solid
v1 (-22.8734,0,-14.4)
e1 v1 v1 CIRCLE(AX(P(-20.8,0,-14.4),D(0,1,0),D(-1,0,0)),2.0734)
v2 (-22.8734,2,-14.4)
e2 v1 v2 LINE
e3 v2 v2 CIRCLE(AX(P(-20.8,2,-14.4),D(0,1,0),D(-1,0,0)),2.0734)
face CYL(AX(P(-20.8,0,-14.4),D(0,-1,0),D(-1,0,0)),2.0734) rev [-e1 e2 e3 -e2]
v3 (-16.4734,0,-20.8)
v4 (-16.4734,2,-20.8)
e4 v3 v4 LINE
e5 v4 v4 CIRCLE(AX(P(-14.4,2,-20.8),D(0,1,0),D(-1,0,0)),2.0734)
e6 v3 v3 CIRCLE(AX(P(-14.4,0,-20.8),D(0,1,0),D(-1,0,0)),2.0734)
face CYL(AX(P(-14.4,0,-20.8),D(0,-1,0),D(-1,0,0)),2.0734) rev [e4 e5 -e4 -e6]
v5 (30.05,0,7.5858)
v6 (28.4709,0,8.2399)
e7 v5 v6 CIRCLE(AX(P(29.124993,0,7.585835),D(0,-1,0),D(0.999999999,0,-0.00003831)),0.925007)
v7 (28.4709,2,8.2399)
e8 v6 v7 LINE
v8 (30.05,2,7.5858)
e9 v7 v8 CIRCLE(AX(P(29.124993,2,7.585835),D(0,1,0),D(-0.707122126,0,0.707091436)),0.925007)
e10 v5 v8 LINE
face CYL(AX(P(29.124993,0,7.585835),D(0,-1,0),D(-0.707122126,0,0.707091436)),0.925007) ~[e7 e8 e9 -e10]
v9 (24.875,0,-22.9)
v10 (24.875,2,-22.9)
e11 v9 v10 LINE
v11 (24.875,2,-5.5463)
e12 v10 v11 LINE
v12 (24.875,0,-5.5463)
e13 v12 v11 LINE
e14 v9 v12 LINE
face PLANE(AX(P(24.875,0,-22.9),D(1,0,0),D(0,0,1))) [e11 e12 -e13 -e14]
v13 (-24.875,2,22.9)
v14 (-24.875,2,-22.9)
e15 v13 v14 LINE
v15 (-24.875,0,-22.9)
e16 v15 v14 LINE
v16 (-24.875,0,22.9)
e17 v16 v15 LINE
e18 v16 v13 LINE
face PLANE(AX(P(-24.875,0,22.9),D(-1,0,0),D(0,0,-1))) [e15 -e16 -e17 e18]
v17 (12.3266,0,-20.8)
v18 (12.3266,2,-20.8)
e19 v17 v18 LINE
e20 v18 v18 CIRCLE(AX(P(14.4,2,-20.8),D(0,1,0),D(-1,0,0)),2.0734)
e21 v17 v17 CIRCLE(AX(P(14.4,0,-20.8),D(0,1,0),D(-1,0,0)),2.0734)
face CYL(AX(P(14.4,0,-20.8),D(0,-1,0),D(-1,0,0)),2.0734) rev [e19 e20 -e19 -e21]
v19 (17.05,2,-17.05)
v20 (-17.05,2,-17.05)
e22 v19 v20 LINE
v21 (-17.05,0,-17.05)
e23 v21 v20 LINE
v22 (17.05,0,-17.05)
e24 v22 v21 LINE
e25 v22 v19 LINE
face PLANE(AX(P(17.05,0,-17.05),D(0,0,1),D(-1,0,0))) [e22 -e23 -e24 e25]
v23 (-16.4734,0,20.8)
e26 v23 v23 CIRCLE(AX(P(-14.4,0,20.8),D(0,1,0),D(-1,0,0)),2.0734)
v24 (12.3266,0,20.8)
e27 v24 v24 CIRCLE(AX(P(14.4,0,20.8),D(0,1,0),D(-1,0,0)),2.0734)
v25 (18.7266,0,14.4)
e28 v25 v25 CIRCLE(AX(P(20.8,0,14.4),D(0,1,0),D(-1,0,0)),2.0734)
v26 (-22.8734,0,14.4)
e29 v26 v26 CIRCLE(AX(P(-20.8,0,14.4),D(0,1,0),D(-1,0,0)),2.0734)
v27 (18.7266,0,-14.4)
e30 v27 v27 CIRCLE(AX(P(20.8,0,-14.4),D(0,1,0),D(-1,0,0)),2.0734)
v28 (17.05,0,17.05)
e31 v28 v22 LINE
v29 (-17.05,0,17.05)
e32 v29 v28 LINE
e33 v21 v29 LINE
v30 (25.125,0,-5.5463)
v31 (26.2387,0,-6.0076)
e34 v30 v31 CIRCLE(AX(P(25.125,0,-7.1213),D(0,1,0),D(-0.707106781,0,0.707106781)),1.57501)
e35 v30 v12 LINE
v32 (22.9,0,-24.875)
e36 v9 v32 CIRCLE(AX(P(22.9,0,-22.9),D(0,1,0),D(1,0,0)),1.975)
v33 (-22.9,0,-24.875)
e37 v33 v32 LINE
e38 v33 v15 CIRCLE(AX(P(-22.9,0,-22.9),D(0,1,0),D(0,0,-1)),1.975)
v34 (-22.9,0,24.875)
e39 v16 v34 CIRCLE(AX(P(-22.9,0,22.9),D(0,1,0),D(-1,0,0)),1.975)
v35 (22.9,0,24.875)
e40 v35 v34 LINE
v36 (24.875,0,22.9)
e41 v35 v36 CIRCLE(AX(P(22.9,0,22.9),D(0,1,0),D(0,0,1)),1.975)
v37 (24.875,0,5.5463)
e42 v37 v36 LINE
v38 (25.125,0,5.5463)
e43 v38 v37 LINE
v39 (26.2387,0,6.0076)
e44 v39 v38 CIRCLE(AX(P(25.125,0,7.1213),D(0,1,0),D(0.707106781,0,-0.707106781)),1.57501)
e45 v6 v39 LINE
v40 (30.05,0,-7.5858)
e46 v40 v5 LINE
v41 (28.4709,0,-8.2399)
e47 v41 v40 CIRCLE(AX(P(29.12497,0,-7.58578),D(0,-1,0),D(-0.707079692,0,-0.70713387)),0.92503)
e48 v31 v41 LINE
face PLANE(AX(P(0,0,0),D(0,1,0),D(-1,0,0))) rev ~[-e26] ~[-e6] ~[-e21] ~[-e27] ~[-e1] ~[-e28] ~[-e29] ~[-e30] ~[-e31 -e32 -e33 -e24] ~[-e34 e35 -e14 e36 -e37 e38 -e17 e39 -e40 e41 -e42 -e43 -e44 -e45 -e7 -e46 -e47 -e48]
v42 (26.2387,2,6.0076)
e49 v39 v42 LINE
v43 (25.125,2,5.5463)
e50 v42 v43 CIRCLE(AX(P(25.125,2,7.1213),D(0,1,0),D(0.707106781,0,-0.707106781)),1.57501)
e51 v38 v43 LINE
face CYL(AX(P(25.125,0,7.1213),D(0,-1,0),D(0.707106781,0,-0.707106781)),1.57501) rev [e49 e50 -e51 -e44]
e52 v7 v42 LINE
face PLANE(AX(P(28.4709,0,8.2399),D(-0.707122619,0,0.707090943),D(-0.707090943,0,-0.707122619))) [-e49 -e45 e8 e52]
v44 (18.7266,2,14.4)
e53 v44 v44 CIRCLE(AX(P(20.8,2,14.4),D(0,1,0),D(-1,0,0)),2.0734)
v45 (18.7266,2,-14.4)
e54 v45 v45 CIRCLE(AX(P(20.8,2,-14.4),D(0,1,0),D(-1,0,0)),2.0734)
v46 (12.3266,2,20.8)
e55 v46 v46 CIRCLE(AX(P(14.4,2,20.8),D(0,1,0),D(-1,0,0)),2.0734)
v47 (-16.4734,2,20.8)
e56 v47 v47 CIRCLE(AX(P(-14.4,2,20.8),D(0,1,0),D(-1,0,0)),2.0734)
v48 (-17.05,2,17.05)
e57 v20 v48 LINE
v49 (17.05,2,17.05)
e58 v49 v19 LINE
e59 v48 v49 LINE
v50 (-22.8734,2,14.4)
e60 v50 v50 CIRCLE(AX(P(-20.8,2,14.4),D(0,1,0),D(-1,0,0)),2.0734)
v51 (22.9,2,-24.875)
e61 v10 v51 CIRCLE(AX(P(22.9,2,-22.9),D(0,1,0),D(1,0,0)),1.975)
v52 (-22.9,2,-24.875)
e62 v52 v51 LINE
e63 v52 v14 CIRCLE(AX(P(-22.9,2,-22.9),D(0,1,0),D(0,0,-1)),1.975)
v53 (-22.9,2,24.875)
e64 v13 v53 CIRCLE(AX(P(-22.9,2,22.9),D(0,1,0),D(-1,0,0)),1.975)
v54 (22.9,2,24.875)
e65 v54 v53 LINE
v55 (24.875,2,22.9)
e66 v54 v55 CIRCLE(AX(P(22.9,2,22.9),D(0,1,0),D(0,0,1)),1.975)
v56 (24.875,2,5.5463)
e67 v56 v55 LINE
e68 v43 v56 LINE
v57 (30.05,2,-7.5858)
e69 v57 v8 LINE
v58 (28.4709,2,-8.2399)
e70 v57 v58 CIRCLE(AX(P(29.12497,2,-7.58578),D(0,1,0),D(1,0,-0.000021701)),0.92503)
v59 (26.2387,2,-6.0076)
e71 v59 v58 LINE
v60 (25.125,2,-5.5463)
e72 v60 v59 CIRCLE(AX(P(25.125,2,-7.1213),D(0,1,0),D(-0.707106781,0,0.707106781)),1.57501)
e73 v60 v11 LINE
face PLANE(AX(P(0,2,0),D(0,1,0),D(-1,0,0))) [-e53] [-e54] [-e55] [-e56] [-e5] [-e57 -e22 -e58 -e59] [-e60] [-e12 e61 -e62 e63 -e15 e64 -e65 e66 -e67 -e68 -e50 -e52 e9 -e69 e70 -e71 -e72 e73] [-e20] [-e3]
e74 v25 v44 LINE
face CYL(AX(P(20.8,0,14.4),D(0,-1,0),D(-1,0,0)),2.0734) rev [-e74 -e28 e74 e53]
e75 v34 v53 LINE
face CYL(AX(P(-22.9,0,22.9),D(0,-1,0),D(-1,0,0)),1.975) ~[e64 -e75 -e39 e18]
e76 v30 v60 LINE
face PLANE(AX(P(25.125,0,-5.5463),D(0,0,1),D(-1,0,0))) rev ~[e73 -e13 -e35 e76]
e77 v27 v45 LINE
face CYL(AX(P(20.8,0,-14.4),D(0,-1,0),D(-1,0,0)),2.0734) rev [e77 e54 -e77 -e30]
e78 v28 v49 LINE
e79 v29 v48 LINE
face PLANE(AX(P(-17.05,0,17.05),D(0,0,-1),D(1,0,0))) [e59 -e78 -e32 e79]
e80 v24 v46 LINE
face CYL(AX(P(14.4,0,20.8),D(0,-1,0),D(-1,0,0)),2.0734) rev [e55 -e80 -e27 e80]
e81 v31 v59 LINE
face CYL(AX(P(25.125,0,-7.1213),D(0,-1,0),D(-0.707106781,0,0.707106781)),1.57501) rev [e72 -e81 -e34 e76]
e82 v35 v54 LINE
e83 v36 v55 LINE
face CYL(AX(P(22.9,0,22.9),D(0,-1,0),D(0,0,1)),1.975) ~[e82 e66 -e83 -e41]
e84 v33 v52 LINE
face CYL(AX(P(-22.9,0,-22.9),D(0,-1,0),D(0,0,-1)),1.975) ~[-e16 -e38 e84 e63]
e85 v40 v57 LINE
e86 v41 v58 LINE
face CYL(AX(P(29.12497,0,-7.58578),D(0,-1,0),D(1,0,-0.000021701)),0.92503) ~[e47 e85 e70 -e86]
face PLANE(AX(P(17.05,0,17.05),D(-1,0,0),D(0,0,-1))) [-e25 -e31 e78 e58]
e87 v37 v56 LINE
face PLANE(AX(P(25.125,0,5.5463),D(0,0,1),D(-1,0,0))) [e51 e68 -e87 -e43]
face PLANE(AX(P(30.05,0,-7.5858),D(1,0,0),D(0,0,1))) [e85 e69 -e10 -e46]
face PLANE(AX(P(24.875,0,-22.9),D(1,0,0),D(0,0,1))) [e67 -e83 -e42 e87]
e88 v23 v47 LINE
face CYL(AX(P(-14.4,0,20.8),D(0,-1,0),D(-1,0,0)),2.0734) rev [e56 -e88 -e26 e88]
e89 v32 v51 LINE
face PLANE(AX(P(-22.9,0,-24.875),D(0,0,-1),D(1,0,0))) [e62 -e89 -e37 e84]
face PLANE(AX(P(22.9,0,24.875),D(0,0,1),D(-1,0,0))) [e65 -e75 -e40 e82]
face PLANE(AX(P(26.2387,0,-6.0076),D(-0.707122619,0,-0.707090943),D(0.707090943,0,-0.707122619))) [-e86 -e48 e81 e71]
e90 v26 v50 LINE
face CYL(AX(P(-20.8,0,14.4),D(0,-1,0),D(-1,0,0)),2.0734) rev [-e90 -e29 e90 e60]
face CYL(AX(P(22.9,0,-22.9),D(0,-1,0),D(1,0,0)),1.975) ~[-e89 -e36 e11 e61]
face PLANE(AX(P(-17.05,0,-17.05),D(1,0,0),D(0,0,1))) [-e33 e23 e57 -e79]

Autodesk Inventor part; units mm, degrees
ref_plane "YZ Plane" through (0, 0, 0) normal (1, 0, 0) x (0, 1, 0)
ref_plane "XZ Plane" through (0, 0, 0) normal (0, 1, 0) x (-1, 0, 0)
ref_plane "XY Plane" through (0, 0, 0) normal (0, 0, 1) x (1, 0, 0)
sketch "Sketch1" plane through (0, 0, 0) normal (0, 1, 0) x (-1, 0, 0)
  circle A0 centre (-21.9, -21.9) radius 1.875 projected
  circle A1 centre (21.9, 21.9) radius 1.875 projected
  circle A2 centre (21.9, -21.9) radius 1.875 projected
  circle A3 centre (-21.9, 21.9) radius 1.875 projected
  circle A4 centre (14.4, 20.8) radius 2.0734 projected
  circle A5 centre (-14.4, -20.8) radius 2.0734 projected
  circle A6 centre (14.4, -20.8) radius 2.0734 projected
  circle A7 centre (20.8, -14.4) radius 2.0734 projected
  line L0 (-17.05, 17.05) -> (-17.05, -17.05) projected
  line L1 (17.05, 17.05) -> (-17.05, 17.05) projected
  line L2 (17.05, -17.05) -> (17.05, 17.05) projected
  line L3 (-17.05, -17.05) -> (17.05, -17.05) projected
  circle A8 centre (20.8, 14.4) radius 2.0734 projected
  circle A9 centre (-14.4, 20.8) radius 2.0734 projected
  circle A10 centre (-20.8, -14.4) radius 2.0734 projected
  circle A11 centre (-20.8, 14.4) radius 2.0734 projected
  line L4 (-22.9, 24.875) -> (22.9, 24.875) projected
  arc A12 (-22.9, 24.875) -> (-24.875, 22.9) centre (-22.9, 22.9) ccw projected
  line L5 (-24.875, -22.9) -> (-24.875, 22.9) projected
  arc A13 (-24.875, -22.9) -> (-22.9, -24.875) centre (-22.9, -22.9) ccw projected
  line L6 (22.9, -24.875) -> (-22.9, -24.875) projected
  arc A14 (22.9, -24.875) -> (24.875, -22.9) centre (22.9, -22.9) ccw projected
  line L7 (24.875, 22.9) -> (24.875, -22.9) projected
  arc A15 (24.875, 22.9) -> (22.9, 24.875) centre (22.9, 22.9) ccw projected
  arc A16 (24.9, 22.9) -> (22.9, 24.9) centre (22.9, 22.9) ccw projected
  line L8 (22.9, 24.9) -> (-22.9, 24.9) projected
  arc A17 (-22.9, 24.9) -> (-24.9, 22.9) centre (-22.9, 22.9) ccw projected
  line L9 (-24.9, 22.9) -> (-24.9, -22.9) projected
  arc A18 (-24.9, -22.9) -> (-22.9, -24.9) centre (-22.9, -22.9) ccw projected
  line L10 (-22.9, -24.9) -> (22.9, -24.9) projected
  arc A19 (22.9, -24.9) -> (24.9, -22.9) centre (22.9, -22.9) ccw projected
  line L11 (24.9, -22.9) -> (24.9, 22.9) projected
  point P0 (0, 0)
extrude "Extrusion1" add sketch "Sketch1" along normal blind 2 contours A0 | A1 | A2 | A3 | L4 A15 L7 A14 L6 A13 L5 A12
sketch "Sketch2" plane through (0, 0, 0) normal (0, 1, 0) x (-1, 0, 0)
  line L0 (-7.5858, -29.875) -> (7.5858, -29.875)
  line L1 (10, -29.875) -> (10, -19.875)
  line L2 (7.5858, -19.875) -> (-7.5858, -19.875)
  line L3 (-10, -19.875) -> (-10, -29.875)
  line L4 (-10, -29.875) -> (10, -19.875) construction
  line L5 (10, -29.875) -> (-10, -19.875) construction
  line L6 (-8.2929, -21.5821) -> (-6.0607, -23.8143)
  line L7 (-10, -19.875) -> (-6.8431, -19.875) construction
  line L8 (8.2929, -21.5821) -> (6.0607, -23.8143)
  line L9 (-8.2929, -28.1679) -> (-6.0607, -25.9357)
  line L10 (8.2929, -28.1679) -> (6.0607, -25.9357)
  arc A0 (-8.2929, -28.1679) -> (-7.5858, -29.875) centre (-7.5858, -28.875) ccw
  arc A1 (7.5858, -29.875) -> (8.2929, -28.1679) centre (7.5858, -28.875) ccw
  arc A2 (-6.0607, -25.9357) -> (-6.0607, -23.8143) centre (-7.1213, -24.875) ccw
  arc A3 (6.0607, -23.8143) -> (6.0607, -25.9357) centre (7.1213, -24.875) ccw
  arc A4 (-7.5858, -19.875) -> (-8.2929, -21.5821) centre (-7.5858, -20.875) ccw
  arc A5 (8.2929, -21.5821) -> (7.5858, -19.875) centre (7.5858, -20.875) ccw
  line L11 (-7.5858, -19.95) -> (7.5858, -19.95)
  arc A6 (8.2399, -21.5291) -> (7.5858, -19.95) centre (7.5858, -20.875) ccw
  line L12 (8.2399, -21.5291) -> (6.0076, -23.7613)
  arc A7 (6.0076, -23.7613) -> (6.0076, -25.9887) centre (7.1213, -24.875) ccw
  line L13 (6.0076, -25.9887) -> (8.2399, -28.2209)
  arc A8 (7.5858, -29.8) -> (8.2399, -28.2209) centre (7.5858, -28.875) ccw
  line L14 (7.5858, -29.8) -> (-7.5858, -29.8)
  arc A9 (-8.2399, -28.2209) -> (-7.5858, -29.8) centre (-7.5858, -28.875) ccw
  line L15 (-8.2399, -28.2209) -> (-6.0076, -25.9887)
  arc A10 (-6.0076, -25.9887) -> (-6.0076, -23.7613) centre (-7.1213, -24.875) ccw
  line L16 (-6.0076, -23.7613) -> (-8.2399, -21.5291)
  arc A11 (-7.5858, -19.95) -> (-8.2399, -21.5291) centre (-7.5858, -20.875) ccw
  line L17 (-8.2399, 21.7791) -> (-6.0076, 24.0113)
  line L18 (-7.5858, 30.05) -> (7.5858, 30.05)
  line L19 (7.5858, 20.2) -> (-7.5858, 20.2)
  line L20 (-7.5858, 20.125) -> (7.5858, 20.125)
  line L21 (7.5858, 30.125) -> (-7.5858, 30.125)
  line L22 (10, 20.125) -> (-10, 30.125) construction
  line L23 (-10, 20.125) -> (10, 30.125) construction
  arc A12 (-6.0076, 24.0113) -> (-6.0076, 26.2387) centre (-7.1213, 25.125) ccw
  arc A13 (-6.0607, 24.0643) -> (-6.0607, 26.1857) centre (-7.1213, 25.125) ccw
  arc A14 (-7.5858, 30.05) -> (-8.2399, 28.4709) centre (-7.5858, 29.125) ccw
  arc A15 (-7.5858, 30.125) -> (-8.2929, 28.4179) centre (-7.5858, 29.125) ccw
  line L24 (-8.2929, 28.4179) -> (-6.0607, 26.1857)
  line L25 (-10, 30.125) -> (-6.8431, 30.125) construction
  line L26 (-10, 30.125) -> (-10, 20.125)
  arc A16 (-8.2399, 21.7791) -> (-7.5858, 20.2) centre (-7.5858, 21.125) ccw
  arc A17 (-8.2929, 21.8321) -> (-7.5858, 20.125) centre (-7.5858, 21.125) ccw
  line L27 (-8.2929, 21.8321) -> (-6.0607, 24.0643)
  line L28 (-6.0076, 26.2387) -> (-8.2399, 28.4709)
  line L29 (10, 20.125) -> (10, 30.125)
  line L30 (8.2929, 28.4179) -> (6.0607, 26.1857)
  line L31 (8.2929, 21.8321) -> (6.0607, 24.0643)
  arc A18 (7.5858, 20.125) -> (8.2929, 21.8321) centre (7.5858, 21.125) ccw
  arc A19 (6.0076, 26.2387) -> (6.0076, 24.0113) centre (7.1213, 25.125) ccw
  arc A20 (6.0607, 26.1857) -> (6.0607, 24.0643) centre (7.1213, 25.125) ccw
  arc A21 (7.5858, 20.2) -> (8.2399, 21.7791) centre (7.5858, 21.125) ccw
  line L32 (6.0076, 24.0113) -> (8.2399, 21.7791)
  line L33 (8.2399, 28.4709) -> (6.0076, 26.2387)
  arc A22 (8.2929, 28.4179) -> (7.5858, 30.125) centre (7.5858, 29.125) ccw
  arc A23 (8.2399, 28.4709) -> (7.5858, 30.05) centre (7.5858, 29.125) ccw
  line L34 (0, 24.875) -> (0, 25.125)
  line L35 (-22.9, -24.875) -> (22.9, -24.875) projected
  line L36 (22.9, 24.875) -> (-22.9, 24.875) projected
  line L37 (0, -24.875) -> (0, -24.875)
  line L38 (5.6213, 25.125) -> (5.5463, 25.125)
  line L39 (5.5463, 25.125) -> (5.5463, 24.875)
  line L40 (5.5463, 24.875) -> (5.6213, 24.875)
  line L41 (5.6213, 24.875) -> (5.6213, 25.125)
  line L42 (-5.6213, 25.125) -> (-5.5463, 25.125)
  line L43 (-5.5463, 25.125) -> (-5.5463, 24.875)
  line L44 (-5.5463, 24.875) -> (-5.6213, 24.875)
  line L45 (-5.6213, 24.875) -> (-5.6213, 25.125)
  line L46 (-5.6213, -24.875) -> (-5.5463, -24.875)
  line L47 (-5.5463, -24.875) -> (-5.5463, -24.875)
  line L48 (-5.5463, -24.875) -> (-5.6213, -24.875)
  line L49 (-5.6213, -24.875) -> (-5.6213, -24.875)
  line L50 (5.6213, -24.875) -> (5.5463, -24.875)
  line L51 (5.5463, -24.875) -> (5.5463, -24.875)
  line L52 (5.5463, -24.875) -> (5.6213, -24.875)
  line L53 (5.6213, -24.875) -> (5.6213, -24.875)
  arc A24 (19.95, -7.5858) -> (21.5291, -8.2399) centre (20.875, -7.5858) ccw
  arc A25 (19.875, -7.5858) -> (21.5821, -8.2929) centre (20.875, -7.5858) ccw
  line L54 (21.5821, -8.2929) -> (23.8143, -6.0607)
  line L55 (23.7613, -6.0076) -> (21.5291, -8.2399)
  arc A26 (25.9357, -6.0607) -> (23.8143, -6.0607) centre (24.875, -7.1213) ccw
  arc A27 (25.9887, -6.0076) -> (23.7613, -6.0076) centre (24.875, -7.1213) ccw
  line L56 (29.875, -7.5858) -> (29.875, 7.5858)
  line L57 (29.8, 7.5858) -> (29.8, -7.5858)
  line L58 (19.95, -7.5858) -> (19.95, 7.5858)
  line L59 (19.875, 7.5858) -> (19.875, -7.5858)
  line L60 (28.2209, -8.2399) -> (25.9887, -6.0076)
  line L61 (21.5821, 8.2929) -> (23.8143, 6.0607)
  line L62 (28.1679, 8.2929) -> (25.9357, 6.0607)
  arc A28 (29.875, 7.5858) -> (28.1679, 8.2929) centre (28.875, 7.5858) ccw
  arc A29 (23.7613, 6.0076) -> (25.9887, 6.0076) centre (24.875, 7.1213) ccw
  line L63 (24.875, 5.5463) -> (24.875, 5.5463)
  line L64 (24.875, 5.6213) -> (24.875, 5.5463)
  line L65 (24.875, 5.5463) -> (24.875, 5.6213)
  line L66 (24.875, 5.6213) -> (24.875, 5.6213)
  arc A30 (23.8143, 6.0607) -> (25.9357, 6.0607) centre (24.875, 7.1213) ccw
  line L67 (25.9887, 6.0076) -> (28.2209, 8.2399)
  arc A31 (29.8, 7.5858) -> (28.2209, 8.2399) centre (28.875, 7.5858) ccw
  line L68 (21.5291, 8.2399) -> (23.7613, 6.0076)
  arc A32 (21.5291, 8.2399) -> (19.95, 7.5858) centre (20.875, 7.5858) ccw
  arc A33 (21.5821, 8.2929) -> (19.875, 7.5858) centre (20.875, 7.5858) ccw
  line L69 (24.875, -5.5463) -> (24.875, -5.5463)
  line L70 (24.875, -5.5463) -> (24.875, -5.6213)
  line L71 (24.875, -5.6213) -> (24.875, -5.5463)
  line L72 (24.875, -5.6213) -> (24.875, -5.6213)
  line L73 (24.875, 0) -> (24.875, 0)
  line L74 (28.1679, -8.2929) -> (25.9357, -6.0607)
  arc A34 (28.1679, -8.2929) -> (29.875, -7.5858) centre (28.875, -7.5858) ccw
  arc A35 (28.2209, -8.2399) -> (29.8, -7.5858) centre (28.875, -7.5858) ccw
  line L75 (-25.125, 5.6213) -> (-25.125, 5.5463)
  arc A36 (-28.4709, 8.2399) -> (-30.05, 7.5858) centre (-29.125, 7.5858) ccw
  arc A37 (-28.4179, 8.2929) -> (-30.125, 7.5858) centre (-29.125, 7.5858) ccw
  line L76 (-28.4179, 8.2929) -> (-26.1857, 6.0607)
  line L77 (-24.875, 5.5463) -> (-24.875, 5.6213)
  arc A38 (-26.2387, 6.0076) -> (-24.0113, 6.0076) centre (-25.125, 7.1213) ccw
  line L78 (-21.8321, 8.2929) -> (-24.0643, 6.0607)
  line L79 (-24.875, 0) -> (-25.125, 0)
  arc A39 (-20.2, 7.5858) -> (-21.7791, 8.2399) centre (-21.125, 7.5858) ccw
  arc A40 (-20.125, 7.5858) -> (-21.8321, 8.2929) centre (-21.125, 7.5858) ccw
  line L80 (-30.05, -7.5858) -> (-30.05, 7.5858)
  line L81 (-30.125, 7.5858) -> (-30.125, -7.5858)
  line L82 (-20.2, 7.5858) -> (-20.2, -7.5858)
  line L83 (-20.125, -7.5858) -> (-20.125, 7.5858)
  line L84 (-24.875, 5.6213) -> (-25.125, 5.6213)
  arc A41 (-26.1857, 6.0607) -> (-24.0643, 6.0607) centre (-25.125, 7.1213) ccw
  line L85 (-24.0113, 6.0076) -> (-21.7791, 8.2399)
  line L86 (-25.125, 5.5463) -> (-24.875, 5.5463)
  line L87 (-28.4709, 8.2399) -> (-26.2387, 6.0076)
  line L88 (-25.125, -5.5463) -> (-24.875, -5.5463)
  line L89 (-24.875, -5.5463) -> (-24.875, -5.6213)
  line L90 (-24.875, -5.6213) -> (-25.125, -5.6213)
  line L91 (-25.125, -5.6213) -> (-25.125, -5.5463)
  arc A42 (-30.05, -7.5858) -> (-28.4709, -8.2399) centre (-29.125, -7.5858) ccw
  arc A43 (-21.8321, -8.2929) -> (-20.125, -7.5858) centre (-21.125, -7.5858) ccw
  arc A44 (-21.7791, -8.2399) -> (-20.2, -7.5858) centre (-21.125, -7.5858) ccw
  arc A45 (-24.0113, -6.0076) -> (-26.2387, -6.0076) centre (-25.125, -7.1213) ccw
  arc A46 (-24.0643, -6.0607) -> (-26.1857, -6.0607) centre (-25.125, -7.1213) ccw
  line L92 (-21.7791, -8.2399) -> (-24.0113, -6.0076)
  line L93 (-21.8321, -8.2929) -> (-24.0643, -6.0607)
  line L94 (-28.4179, -8.2929) -> (-26.1857, -6.0607)
  line L95 (-26.2387, -6.0076) -> (-28.4709, -8.2399)
  arc A47 (-30.125, -7.5858) -> (-28.4179, -8.2929) centre (-29.125, -7.5858) ccw
  arc A48 (7.5858, 19.95) -> (8.2399, 21.5291) centre (7.5858, 20.875) ccw
  arc A49 (7.5858, 19.875) -> (8.2929, 21.5821) centre (7.5858, 20.875) ccw
  line L96 (8.2929, 21.5821) -> (6.0607, 23.8143)
  line L97 (6.0076, 23.7613) -> (8.2399, 21.5291)
  arc A50 (6.0607, 25.9357) -> (6.0607, 23.8143) centre (7.1213, 24.875) ccw
  arc A51 (6.0076, 25.9887) -> (6.0076, 23.7613) centre (7.1213, 24.875) ccw
  line L98 (7.5858, 29.875) -> (-7.5858, 29.875)
  line L99 (-7.5858, 29.8) -> (7.5858, 29.8)
  line L100 (7.5858, 19.95) -> (-7.5858, 19.95)
  line L101 (-7.5858, 19.875) -> (7.5858, 19.875)
  line L102 (8.2399, 28.2209) -> (6.0076, 25.9887)
  line L103 (-8.2929, 21.5821) -> (-6.0607, 23.8143)
  line L104 (-8.2929, 28.1679) -> (-6.0607, 25.9357)
  arc A52 (-7.5858, 29.875) -> (-8.2929, 28.1679) centre (-7.5858, 28.875) ccw
  arc A53 (-6.0076, 23.7613) -> (-6.0076, 25.9887) centre (-7.1213, 24.875) ccw
  line L105 (-5.5463, 24.875) -> (-5.5463, 24.875)
  line L106 (-5.6213, 24.875) -> (-5.5463, 24.875)
  line L107 (-5.5463, 24.875) -> (-5.6213, 24.875)
  line L108 (-5.6213, 24.875) -> (-5.6213, 24.875)
  arc A54 (-6.0607, 23.8143) -> (-6.0607, 25.9357) centre (-7.1213, 24.875) ccw
  line L109 (-6.0076, 25.9887) -> (-8.2399, 28.2209)
  arc A55 (-7.5858, 29.8) -> (-8.2399, 28.2209) centre (-7.5858, 28.875) ccw
  line L110 (-8.2399, 21.5291) -> (-6.0076, 23.7613)
  arc A56 (-8.2399, 21.5291) -> (-7.5858, 19.95) centre (-7.5858, 20.875) ccw
  arc A57 (-8.2929, 21.5821) -> (-7.5858, 19.875) centre (-7.5858, 20.875) ccw
  line L111 (5.5463, 24.875) -> (5.5463, 24.875)
  line L112 (5.5463, 24.875) -> (5.6213, 24.875)
  line L113 (5.6213, 24.875) -> (5.5463, 24.875)
  line L114 (5.6213, 24.875) -> (5.6213, 24.875)
  line L115 (0, 24.875) -> (0, 24.875)
  line L116 (8.2929, 28.1679) -> (6.0607, 25.9357)
  arc A58 (8.2929, 28.1679) -> (7.5858, 29.875) centre (7.5858, 28.875) ccw
  arc A59 (8.2399, 28.2209) -> (7.5858, 29.8) centre (7.5858, 28.875) ccw
  line L117 (-5.6213, -25.125) -> (-5.5463, -25.125)
  arc A60 (-8.2399, -28.4709) -> (-7.5858, -30.05) centre (-7.5858, -29.125) ccw
  arc A61 (-8.2929, -28.4179) -> (-7.5858, -30.125) centre (-7.5858, -29.125) ccw
  line L118 (-8.2929, -28.4179) -> (-6.0607, -26.1857)
  line L119 (-5.5463, -24.875) -> (-5.6213, -24.875)
  arc A62 (-6.0076, -26.2387) -> (-6.0076, -24.0113) centre (-7.1213, -25.125) ccw
  line L120 (-8.2929, -21.8321) -> (-6.0607, -24.0643)
  line L121 (0, -24.875) -> (0, -25.125)
  arc A63 (-7.5858, -20.2) -> (-8.2399, -21.7791) centre (-7.5858, -21.125) ccw
  arc A64 (-7.5858, -20.125) -> (-8.2929, -21.8321) centre (-7.5858, -21.125) ccw
  line L122 (7.5858, -30.05) -> (-7.5858, -30.05)
  line L123 (-7.5858, -30.125) -> (7.5858, -30.125)
  line L124 (-7.5858, -20.2) -> (7.5858, -20.2)
  line L125 (7.5858, -20.125) -> (-7.5858, -20.125)
  line L126 (-5.6213, -24.875) -> (-5.6213, -25.125)
  arc A65 (-6.0607, -26.1857) -> (-6.0607, -24.0643) centre (-7.1213, -25.125) ccw
  line L127 (-6.0076, -24.0113) -> (-8.2399, -21.7791)
  line L128 (-5.5463, -25.125) -> (-5.5463, -24.875)
  line L129 (-8.2399, -28.4709) -> (-6.0076, -26.2387)
  line L130 (5.5463, -25.125) -> (5.5463, -24.875)
  line L131 (5.5463, -24.875) -> (5.6213, -24.875)
  line L132 (5.6213, -24.875) -> (5.6213, -25.125)
  line L133 (5.6213, -25.125) -> (5.5463, -25.125)
  arc A66 (7.5858, -30.05) -> (8.2399, -28.4709) centre (7.5858, -29.125) ccw
  arc A67 (8.2929, -21.8321) -> (7.5858, -20.125) centre (7.5858, -21.125) ccw
  arc A68 (8.2399, -21.7791) -> (7.5858, -20.2) centre (7.5858, -21.125) ccw
  arc A69 (6.0076, -24.0113) -> (6.0076, -26.2387) centre (7.1213, -25.125) ccw
  arc A70 (6.0607, -24.0643) -> (6.0607, -26.1857) centre (7.1213, -25.125) ccw
  line L134 (8.2399, -21.7791) -> (6.0076, -24.0113)
  line L135 (8.2929, -21.8321) -> (6.0607, -24.0643)
  line L136 (8.2929, -28.4179) -> (6.0607, -26.1857)
  line L137 (6.0076, -26.2387) -> (8.2399, -28.4709)
  arc A71 (7.5858, -30.125) -> (8.2929, -28.4179) centre (7.5858, -29.125) ccw
  arc A72 (-19.95, 7.5858) -> (-21.5291, 8.2399) centre (-20.875, 7.5858) ccw
  arc A73 (-19.875, 7.5858) -> (-21.5821, 8.2929) centre (-20.875, 7.5858) ccw
  line L138 (-21.5821, 8.2929) -> (-23.8143, 6.0607)
  line L139 (-23.7613, 6.0076) -> (-21.5291, 8.2399)
  arc A74 (-25.9357, 6.0607) -> (-23.8143, 6.0607) centre (-24.875, 7.1213) ccw
  arc A75 (-25.9887, 6.0076) -> (-23.7613, 6.0076) centre (-24.875, 7.1213) ccw
  line L140 (-29.875, 7.5858) -> (-29.875, -7.5858)
  line L141 (-29.8, -7.5858) -> (-29.8, 7.5858)
  line L142 (-19.95, 7.5858) -> (-19.95, -7.5858)
  line L143 (-19.875, -7.5858) -> (-19.875, 7.5858)
  line L144 (-28.2209, 8.2399) -> (-25.9887, 6.0076)
  line L145 (-21.5821, -8.2929) -> (-23.8143, -6.0607)
  line L146 (-28.1679, -8.2929) -> (-25.9357, -6.0607)
  arc A76 (-29.875, -7.5858) -> (-28.1679, -8.2929) centre (-28.875, -7.5858) ccw
  arc A77 (-23.7613, -6.0076) -> (-25.9887, -6.0076) centre (-24.875, -7.1213) ccw
  line L147 (-24.875, -5.5463) -> (-24.875, -5.5463)
  line L148 (-24.875, -5.6213) -> (-24.875, -5.5463)
  line L149 (-24.875, -5.5463) -> (-24.875, -5.6213)
  line L150 (-24.875, -5.6213) -> (-24.875, -5.6213)
  arc A78 (-23.8143, -6.0607) -> (-25.9357, -6.0607) centre (-24.875, -7.1213) ccw
  line L151 (-25.9887, -6.0076) -> (-28.2209, -8.2399)
  arc A79 (-29.8, -7.5858) -> (-28.2209, -8.2399) centre (-28.875, -7.5858) ccw
  line L152 (-21.5291, -8.2399) -> (-23.7613, -6.0076)
  arc A80 (-21.5291, -8.2399) -> (-19.95, -7.5858) centre (-20.875, -7.5858) ccw
  arc A81 (-21.5821, -8.2929) -> (-19.875, -7.5858) centre (-20.875, -7.5858) ccw
  line L153 (-24.875, 5.5463) -> (-24.875, 5.5463)
  line L154 (-24.875, 5.5463) -> (-24.875, 5.6213)
  line L155 (-24.875, 5.6213) -> (-24.875, 5.5463)
  line L156 (-24.875, 5.6213) -> (-24.875, 5.6213)
  line L157 (-24.875, 0) -> (-24.875, 0)
  line L158 (-28.1679, 8.2929) -> (-25.9357, 6.0607)
  arc A82 (-28.1679, 8.2929) -> (-29.875, 7.5858) centre (-28.875, 7.5858) ccw
  arc A83 (-28.2209, 8.2399) -> (-29.8, 7.5858) centre (-28.875, 7.5858) ccw
  line L159 (25.125, -5.6213) -> (25.125, -5.5463)
  arc A84 (28.4709, -8.2399) -> (30.05, -7.5858) centre (29.125, -7.5858) ccw
  arc A85 (28.4179, -8.2929) -> (30.125, -7.5858) centre (29.125, -7.5858) ccw
  line L160 (28.4179, -8.2929) -> (26.1857, -6.0607)
  line L161 (24.875, -5.5463) -> (24.875, -5.6213)
  arc A86 (26.2387, -6.0076) -> (24.0113, -6.0076) centre (25.125, -7.1213) ccw
  line L162 (21.8321, -8.2929) -> (24.0643, -6.0607)
  line L163 (24.875, 0) -> (25.125, 0)
  arc A87 (20.2, -7.5858) -> (21.7791, -8.2399) centre (21.125, -7.5858) ccw
  arc A88 (20.125, -7.5858) -> (21.8321, -8.2929) centre (21.125, -7.5858) ccw
  line L164 (30.05, 7.5858) -> (30.05, -7.5858)
  line L165 (30.125, -7.5858) -> (30.125, 7.5858)
  line L166 (20.2, -7.5858) -> (20.2, 7.5858)
  line L167 (20.125, 7.5858) -> (20.125, -7.5858)
  line L168 (24.875, -5.6213) -> (25.125, -5.6213)
  arc A89 (26.1857, -6.0607) -> (24.0643, -6.0607) centre (25.125, -7.1213) ccw
  line L169 (24.0113, -6.0076) -> (21.7791, -8.2399)
  line L170 (25.125, -5.5463) -> (24.875, -5.5463)
  line L171 (28.4709, -8.2399) -> (26.2387, -6.0076)
  line L172 (25.125, 5.5463) -> (24.875, 5.5463)
  line L173 (24.875, 5.5463) -> (24.875, 5.6213)
  line L174 (24.875, 5.6213) -> (25.125, 5.6213)
  line L175 (25.125, 5.6213) -> (25.125, 5.5463)
  arc A90 (30.05, 7.5858) -> (28.4709, 8.2399) centre (29.125, 7.5858) ccw
  arc A91 (21.8321, 8.2929) -> (20.125, 7.5858) centre (21.125, 7.5858) ccw
  arc A92 (21.7791, 8.2399) -> (20.2, 7.5858) centre (21.125, 7.5858) ccw
  arc A93 (24.0113, 6.0076) -> (26.2387, 6.0076) centre (25.125, 7.1213) ccw
  arc A94 (24.0643, 6.0607) -> (26.1857, 6.0607) centre (25.125, 7.1213) ccw
  line L176 (21.7791, 8.2399) -> (24.0113, 6.0076)
  line L177 (21.8321, 8.2929) -> (24.0643, 6.0607)
  line L178 (28.4179, 8.2929) -> (26.1857, 6.0607)
  line L179 (26.2387, 6.0076) -> (28.4709, 8.2399)
  arc A95 (30.125, 7.5858) -> (28.4179, 8.2929) centre (29.125, 7.5858) ccw
  line L180 (-22.9, -24.875) -> (22.9, -24.875) projected
  arc A96 (22.9, -24.875) -> (24.875, -22.9) centre (22.9, -22.9) ccw projected
  line L181 (24.875, -22.9) -> (24.875, 22.9) projected
  arc A97 (24.875, 22.9) -> (22.9, 24.875) centre (22.9, 22.9) ccw projected
  line L182 (22.9, 24.875) -> (-22.9, 24.875) projected
  arc A98 (-22.9, 24.875) -> (-24.875, 22.9) centre (-22.9, 22.9) ccw projected
  line L183 (-24.875, 22.9) -> (-24.875, -22.9) projected
  arc A99 (-24.875, -22.9) -> (-22.9, -24.875) centre (-22.9, -22.9) ccw projected
  circle A100 centre (-20.8, 14.4) radius 2.0734 projected
  circle A101 centre (-20.8, -14.4) radius 2.0734 projected
  circle A102 centre (-14.4, 20.8) radius 2.0734 projected
  circle A103 centre (20.8, 14.4) radius 2.0734 projected
  circle A104 centre (20.8, -14.4) radius 2.0734 projected
  circle A105 centre (14.4, -20.8) radius 2.0734 projected
  circle A106 centre (-14.4, -20.8) radius 2.0734 projected
  circle A107 centre (14.4, 20.8) radius 2.0734 projected
  line L184 (-17.05, 17.05) -> (17.05, 17.05) projected
  line L185 (17.05, 17.05) -> (17.05, -17.05) projected
  line L186 (17.05, -17.05) -> (-17.05, -17.05) projected
  line L187 (-17.05, -17.05) -> (-17.05, 17.05) projected
  point P0 (0, 0)
  point P1 (19.875, -6.8431)
  point P2 (19.875, -10)
  point P3 (29.875, -10)
  point P4 (29.875, 10)
  point P5 (19.875, 10)
  point P6 (-30.125, 10)
  point P7 (-20.125, 10)
  point P8 (-30.125, -10)
  point P9 (-20.125, -10)
  point P10 (-30.125, -6.8431)
  point P11 (6.8431, 19.875)
  point P12 (10, 19.875)
  point P13 (10, 29.875)
  point P14 (-10, 29.875)
  point P15 (-10, 19.875)
  point P16 (-10, -30.125)
  point P17 (-10, -20.125)
  point P18 (10, -30.125)
  point P19 (10, -20.125)
  point P20 (6.8431, -30.125)
  point P21 (-19.875, 6.8431)
  point P22 (-19.875, 10)
  point P23 (-29.875, 10)
  point P24 (-29.875, -10)
  point P25 (-19.875, -10)
  point P26 (30.125, -10)
  point P27 (20.125, -10)
  point P28 (30.125, 10)
  point P29 (20.125, 10)
  point P30 (30.125, 6.8431)
  point P31 (-21, 8.5023)
  point P32 (-24.625, 5.5463)
  point P33 (-25.125, 5.5463)
  point P34 (-25.125, -5.5463)
  point P35 (-24.625, -5.5463)
  point P36 (-21, -8.5023)
  point P37 (-5.5463, 25.125)
  point P38 (5.5463, 25.125)
  dimension "d19" = 20
  dimension "d20" = 10
  dimension "d21" = 45
  dimension "d22" = 1
  dimension "d23" = 1.5
  dimension "d24" = 1
  dimension "d25" = 0.075
  dimension "d28" = 15.1716
  dimension "d29" = 2.8787
  dimension "d30" = 2.8787
  dimension "d31" = 20
  dimension "d32" = 10
  dimension "d33" = 45
  dimension "d34" = 1
  dimension "d35" = 1.5
  dimension "d36" = 1
  dimension "d37" = 0.075
  dimension "d38" = 15.1716
  dimension "d39" = 2.8787
  dimension "d40" = 2.8787
  dimension "d41" = 0.25
  dimension "d42" = 0
  dimension "d45" = 360
extrude "Extrusion2" add sketch "Sketch2" along normal up to surface (2 mm away) contours L88 A45 L95 A42 A79 L141 A83 A36 L87 A38 L86 L183 | A76 L140 A82 A36 A83 L141 A79 A42 | A42 L80 A36 A82 L140 A76
extrude "Extrusion3" [suppressed]
fillet "Fillet1" [suppressed]
properties part number "Interlinking Baseplate Pathed Male"
